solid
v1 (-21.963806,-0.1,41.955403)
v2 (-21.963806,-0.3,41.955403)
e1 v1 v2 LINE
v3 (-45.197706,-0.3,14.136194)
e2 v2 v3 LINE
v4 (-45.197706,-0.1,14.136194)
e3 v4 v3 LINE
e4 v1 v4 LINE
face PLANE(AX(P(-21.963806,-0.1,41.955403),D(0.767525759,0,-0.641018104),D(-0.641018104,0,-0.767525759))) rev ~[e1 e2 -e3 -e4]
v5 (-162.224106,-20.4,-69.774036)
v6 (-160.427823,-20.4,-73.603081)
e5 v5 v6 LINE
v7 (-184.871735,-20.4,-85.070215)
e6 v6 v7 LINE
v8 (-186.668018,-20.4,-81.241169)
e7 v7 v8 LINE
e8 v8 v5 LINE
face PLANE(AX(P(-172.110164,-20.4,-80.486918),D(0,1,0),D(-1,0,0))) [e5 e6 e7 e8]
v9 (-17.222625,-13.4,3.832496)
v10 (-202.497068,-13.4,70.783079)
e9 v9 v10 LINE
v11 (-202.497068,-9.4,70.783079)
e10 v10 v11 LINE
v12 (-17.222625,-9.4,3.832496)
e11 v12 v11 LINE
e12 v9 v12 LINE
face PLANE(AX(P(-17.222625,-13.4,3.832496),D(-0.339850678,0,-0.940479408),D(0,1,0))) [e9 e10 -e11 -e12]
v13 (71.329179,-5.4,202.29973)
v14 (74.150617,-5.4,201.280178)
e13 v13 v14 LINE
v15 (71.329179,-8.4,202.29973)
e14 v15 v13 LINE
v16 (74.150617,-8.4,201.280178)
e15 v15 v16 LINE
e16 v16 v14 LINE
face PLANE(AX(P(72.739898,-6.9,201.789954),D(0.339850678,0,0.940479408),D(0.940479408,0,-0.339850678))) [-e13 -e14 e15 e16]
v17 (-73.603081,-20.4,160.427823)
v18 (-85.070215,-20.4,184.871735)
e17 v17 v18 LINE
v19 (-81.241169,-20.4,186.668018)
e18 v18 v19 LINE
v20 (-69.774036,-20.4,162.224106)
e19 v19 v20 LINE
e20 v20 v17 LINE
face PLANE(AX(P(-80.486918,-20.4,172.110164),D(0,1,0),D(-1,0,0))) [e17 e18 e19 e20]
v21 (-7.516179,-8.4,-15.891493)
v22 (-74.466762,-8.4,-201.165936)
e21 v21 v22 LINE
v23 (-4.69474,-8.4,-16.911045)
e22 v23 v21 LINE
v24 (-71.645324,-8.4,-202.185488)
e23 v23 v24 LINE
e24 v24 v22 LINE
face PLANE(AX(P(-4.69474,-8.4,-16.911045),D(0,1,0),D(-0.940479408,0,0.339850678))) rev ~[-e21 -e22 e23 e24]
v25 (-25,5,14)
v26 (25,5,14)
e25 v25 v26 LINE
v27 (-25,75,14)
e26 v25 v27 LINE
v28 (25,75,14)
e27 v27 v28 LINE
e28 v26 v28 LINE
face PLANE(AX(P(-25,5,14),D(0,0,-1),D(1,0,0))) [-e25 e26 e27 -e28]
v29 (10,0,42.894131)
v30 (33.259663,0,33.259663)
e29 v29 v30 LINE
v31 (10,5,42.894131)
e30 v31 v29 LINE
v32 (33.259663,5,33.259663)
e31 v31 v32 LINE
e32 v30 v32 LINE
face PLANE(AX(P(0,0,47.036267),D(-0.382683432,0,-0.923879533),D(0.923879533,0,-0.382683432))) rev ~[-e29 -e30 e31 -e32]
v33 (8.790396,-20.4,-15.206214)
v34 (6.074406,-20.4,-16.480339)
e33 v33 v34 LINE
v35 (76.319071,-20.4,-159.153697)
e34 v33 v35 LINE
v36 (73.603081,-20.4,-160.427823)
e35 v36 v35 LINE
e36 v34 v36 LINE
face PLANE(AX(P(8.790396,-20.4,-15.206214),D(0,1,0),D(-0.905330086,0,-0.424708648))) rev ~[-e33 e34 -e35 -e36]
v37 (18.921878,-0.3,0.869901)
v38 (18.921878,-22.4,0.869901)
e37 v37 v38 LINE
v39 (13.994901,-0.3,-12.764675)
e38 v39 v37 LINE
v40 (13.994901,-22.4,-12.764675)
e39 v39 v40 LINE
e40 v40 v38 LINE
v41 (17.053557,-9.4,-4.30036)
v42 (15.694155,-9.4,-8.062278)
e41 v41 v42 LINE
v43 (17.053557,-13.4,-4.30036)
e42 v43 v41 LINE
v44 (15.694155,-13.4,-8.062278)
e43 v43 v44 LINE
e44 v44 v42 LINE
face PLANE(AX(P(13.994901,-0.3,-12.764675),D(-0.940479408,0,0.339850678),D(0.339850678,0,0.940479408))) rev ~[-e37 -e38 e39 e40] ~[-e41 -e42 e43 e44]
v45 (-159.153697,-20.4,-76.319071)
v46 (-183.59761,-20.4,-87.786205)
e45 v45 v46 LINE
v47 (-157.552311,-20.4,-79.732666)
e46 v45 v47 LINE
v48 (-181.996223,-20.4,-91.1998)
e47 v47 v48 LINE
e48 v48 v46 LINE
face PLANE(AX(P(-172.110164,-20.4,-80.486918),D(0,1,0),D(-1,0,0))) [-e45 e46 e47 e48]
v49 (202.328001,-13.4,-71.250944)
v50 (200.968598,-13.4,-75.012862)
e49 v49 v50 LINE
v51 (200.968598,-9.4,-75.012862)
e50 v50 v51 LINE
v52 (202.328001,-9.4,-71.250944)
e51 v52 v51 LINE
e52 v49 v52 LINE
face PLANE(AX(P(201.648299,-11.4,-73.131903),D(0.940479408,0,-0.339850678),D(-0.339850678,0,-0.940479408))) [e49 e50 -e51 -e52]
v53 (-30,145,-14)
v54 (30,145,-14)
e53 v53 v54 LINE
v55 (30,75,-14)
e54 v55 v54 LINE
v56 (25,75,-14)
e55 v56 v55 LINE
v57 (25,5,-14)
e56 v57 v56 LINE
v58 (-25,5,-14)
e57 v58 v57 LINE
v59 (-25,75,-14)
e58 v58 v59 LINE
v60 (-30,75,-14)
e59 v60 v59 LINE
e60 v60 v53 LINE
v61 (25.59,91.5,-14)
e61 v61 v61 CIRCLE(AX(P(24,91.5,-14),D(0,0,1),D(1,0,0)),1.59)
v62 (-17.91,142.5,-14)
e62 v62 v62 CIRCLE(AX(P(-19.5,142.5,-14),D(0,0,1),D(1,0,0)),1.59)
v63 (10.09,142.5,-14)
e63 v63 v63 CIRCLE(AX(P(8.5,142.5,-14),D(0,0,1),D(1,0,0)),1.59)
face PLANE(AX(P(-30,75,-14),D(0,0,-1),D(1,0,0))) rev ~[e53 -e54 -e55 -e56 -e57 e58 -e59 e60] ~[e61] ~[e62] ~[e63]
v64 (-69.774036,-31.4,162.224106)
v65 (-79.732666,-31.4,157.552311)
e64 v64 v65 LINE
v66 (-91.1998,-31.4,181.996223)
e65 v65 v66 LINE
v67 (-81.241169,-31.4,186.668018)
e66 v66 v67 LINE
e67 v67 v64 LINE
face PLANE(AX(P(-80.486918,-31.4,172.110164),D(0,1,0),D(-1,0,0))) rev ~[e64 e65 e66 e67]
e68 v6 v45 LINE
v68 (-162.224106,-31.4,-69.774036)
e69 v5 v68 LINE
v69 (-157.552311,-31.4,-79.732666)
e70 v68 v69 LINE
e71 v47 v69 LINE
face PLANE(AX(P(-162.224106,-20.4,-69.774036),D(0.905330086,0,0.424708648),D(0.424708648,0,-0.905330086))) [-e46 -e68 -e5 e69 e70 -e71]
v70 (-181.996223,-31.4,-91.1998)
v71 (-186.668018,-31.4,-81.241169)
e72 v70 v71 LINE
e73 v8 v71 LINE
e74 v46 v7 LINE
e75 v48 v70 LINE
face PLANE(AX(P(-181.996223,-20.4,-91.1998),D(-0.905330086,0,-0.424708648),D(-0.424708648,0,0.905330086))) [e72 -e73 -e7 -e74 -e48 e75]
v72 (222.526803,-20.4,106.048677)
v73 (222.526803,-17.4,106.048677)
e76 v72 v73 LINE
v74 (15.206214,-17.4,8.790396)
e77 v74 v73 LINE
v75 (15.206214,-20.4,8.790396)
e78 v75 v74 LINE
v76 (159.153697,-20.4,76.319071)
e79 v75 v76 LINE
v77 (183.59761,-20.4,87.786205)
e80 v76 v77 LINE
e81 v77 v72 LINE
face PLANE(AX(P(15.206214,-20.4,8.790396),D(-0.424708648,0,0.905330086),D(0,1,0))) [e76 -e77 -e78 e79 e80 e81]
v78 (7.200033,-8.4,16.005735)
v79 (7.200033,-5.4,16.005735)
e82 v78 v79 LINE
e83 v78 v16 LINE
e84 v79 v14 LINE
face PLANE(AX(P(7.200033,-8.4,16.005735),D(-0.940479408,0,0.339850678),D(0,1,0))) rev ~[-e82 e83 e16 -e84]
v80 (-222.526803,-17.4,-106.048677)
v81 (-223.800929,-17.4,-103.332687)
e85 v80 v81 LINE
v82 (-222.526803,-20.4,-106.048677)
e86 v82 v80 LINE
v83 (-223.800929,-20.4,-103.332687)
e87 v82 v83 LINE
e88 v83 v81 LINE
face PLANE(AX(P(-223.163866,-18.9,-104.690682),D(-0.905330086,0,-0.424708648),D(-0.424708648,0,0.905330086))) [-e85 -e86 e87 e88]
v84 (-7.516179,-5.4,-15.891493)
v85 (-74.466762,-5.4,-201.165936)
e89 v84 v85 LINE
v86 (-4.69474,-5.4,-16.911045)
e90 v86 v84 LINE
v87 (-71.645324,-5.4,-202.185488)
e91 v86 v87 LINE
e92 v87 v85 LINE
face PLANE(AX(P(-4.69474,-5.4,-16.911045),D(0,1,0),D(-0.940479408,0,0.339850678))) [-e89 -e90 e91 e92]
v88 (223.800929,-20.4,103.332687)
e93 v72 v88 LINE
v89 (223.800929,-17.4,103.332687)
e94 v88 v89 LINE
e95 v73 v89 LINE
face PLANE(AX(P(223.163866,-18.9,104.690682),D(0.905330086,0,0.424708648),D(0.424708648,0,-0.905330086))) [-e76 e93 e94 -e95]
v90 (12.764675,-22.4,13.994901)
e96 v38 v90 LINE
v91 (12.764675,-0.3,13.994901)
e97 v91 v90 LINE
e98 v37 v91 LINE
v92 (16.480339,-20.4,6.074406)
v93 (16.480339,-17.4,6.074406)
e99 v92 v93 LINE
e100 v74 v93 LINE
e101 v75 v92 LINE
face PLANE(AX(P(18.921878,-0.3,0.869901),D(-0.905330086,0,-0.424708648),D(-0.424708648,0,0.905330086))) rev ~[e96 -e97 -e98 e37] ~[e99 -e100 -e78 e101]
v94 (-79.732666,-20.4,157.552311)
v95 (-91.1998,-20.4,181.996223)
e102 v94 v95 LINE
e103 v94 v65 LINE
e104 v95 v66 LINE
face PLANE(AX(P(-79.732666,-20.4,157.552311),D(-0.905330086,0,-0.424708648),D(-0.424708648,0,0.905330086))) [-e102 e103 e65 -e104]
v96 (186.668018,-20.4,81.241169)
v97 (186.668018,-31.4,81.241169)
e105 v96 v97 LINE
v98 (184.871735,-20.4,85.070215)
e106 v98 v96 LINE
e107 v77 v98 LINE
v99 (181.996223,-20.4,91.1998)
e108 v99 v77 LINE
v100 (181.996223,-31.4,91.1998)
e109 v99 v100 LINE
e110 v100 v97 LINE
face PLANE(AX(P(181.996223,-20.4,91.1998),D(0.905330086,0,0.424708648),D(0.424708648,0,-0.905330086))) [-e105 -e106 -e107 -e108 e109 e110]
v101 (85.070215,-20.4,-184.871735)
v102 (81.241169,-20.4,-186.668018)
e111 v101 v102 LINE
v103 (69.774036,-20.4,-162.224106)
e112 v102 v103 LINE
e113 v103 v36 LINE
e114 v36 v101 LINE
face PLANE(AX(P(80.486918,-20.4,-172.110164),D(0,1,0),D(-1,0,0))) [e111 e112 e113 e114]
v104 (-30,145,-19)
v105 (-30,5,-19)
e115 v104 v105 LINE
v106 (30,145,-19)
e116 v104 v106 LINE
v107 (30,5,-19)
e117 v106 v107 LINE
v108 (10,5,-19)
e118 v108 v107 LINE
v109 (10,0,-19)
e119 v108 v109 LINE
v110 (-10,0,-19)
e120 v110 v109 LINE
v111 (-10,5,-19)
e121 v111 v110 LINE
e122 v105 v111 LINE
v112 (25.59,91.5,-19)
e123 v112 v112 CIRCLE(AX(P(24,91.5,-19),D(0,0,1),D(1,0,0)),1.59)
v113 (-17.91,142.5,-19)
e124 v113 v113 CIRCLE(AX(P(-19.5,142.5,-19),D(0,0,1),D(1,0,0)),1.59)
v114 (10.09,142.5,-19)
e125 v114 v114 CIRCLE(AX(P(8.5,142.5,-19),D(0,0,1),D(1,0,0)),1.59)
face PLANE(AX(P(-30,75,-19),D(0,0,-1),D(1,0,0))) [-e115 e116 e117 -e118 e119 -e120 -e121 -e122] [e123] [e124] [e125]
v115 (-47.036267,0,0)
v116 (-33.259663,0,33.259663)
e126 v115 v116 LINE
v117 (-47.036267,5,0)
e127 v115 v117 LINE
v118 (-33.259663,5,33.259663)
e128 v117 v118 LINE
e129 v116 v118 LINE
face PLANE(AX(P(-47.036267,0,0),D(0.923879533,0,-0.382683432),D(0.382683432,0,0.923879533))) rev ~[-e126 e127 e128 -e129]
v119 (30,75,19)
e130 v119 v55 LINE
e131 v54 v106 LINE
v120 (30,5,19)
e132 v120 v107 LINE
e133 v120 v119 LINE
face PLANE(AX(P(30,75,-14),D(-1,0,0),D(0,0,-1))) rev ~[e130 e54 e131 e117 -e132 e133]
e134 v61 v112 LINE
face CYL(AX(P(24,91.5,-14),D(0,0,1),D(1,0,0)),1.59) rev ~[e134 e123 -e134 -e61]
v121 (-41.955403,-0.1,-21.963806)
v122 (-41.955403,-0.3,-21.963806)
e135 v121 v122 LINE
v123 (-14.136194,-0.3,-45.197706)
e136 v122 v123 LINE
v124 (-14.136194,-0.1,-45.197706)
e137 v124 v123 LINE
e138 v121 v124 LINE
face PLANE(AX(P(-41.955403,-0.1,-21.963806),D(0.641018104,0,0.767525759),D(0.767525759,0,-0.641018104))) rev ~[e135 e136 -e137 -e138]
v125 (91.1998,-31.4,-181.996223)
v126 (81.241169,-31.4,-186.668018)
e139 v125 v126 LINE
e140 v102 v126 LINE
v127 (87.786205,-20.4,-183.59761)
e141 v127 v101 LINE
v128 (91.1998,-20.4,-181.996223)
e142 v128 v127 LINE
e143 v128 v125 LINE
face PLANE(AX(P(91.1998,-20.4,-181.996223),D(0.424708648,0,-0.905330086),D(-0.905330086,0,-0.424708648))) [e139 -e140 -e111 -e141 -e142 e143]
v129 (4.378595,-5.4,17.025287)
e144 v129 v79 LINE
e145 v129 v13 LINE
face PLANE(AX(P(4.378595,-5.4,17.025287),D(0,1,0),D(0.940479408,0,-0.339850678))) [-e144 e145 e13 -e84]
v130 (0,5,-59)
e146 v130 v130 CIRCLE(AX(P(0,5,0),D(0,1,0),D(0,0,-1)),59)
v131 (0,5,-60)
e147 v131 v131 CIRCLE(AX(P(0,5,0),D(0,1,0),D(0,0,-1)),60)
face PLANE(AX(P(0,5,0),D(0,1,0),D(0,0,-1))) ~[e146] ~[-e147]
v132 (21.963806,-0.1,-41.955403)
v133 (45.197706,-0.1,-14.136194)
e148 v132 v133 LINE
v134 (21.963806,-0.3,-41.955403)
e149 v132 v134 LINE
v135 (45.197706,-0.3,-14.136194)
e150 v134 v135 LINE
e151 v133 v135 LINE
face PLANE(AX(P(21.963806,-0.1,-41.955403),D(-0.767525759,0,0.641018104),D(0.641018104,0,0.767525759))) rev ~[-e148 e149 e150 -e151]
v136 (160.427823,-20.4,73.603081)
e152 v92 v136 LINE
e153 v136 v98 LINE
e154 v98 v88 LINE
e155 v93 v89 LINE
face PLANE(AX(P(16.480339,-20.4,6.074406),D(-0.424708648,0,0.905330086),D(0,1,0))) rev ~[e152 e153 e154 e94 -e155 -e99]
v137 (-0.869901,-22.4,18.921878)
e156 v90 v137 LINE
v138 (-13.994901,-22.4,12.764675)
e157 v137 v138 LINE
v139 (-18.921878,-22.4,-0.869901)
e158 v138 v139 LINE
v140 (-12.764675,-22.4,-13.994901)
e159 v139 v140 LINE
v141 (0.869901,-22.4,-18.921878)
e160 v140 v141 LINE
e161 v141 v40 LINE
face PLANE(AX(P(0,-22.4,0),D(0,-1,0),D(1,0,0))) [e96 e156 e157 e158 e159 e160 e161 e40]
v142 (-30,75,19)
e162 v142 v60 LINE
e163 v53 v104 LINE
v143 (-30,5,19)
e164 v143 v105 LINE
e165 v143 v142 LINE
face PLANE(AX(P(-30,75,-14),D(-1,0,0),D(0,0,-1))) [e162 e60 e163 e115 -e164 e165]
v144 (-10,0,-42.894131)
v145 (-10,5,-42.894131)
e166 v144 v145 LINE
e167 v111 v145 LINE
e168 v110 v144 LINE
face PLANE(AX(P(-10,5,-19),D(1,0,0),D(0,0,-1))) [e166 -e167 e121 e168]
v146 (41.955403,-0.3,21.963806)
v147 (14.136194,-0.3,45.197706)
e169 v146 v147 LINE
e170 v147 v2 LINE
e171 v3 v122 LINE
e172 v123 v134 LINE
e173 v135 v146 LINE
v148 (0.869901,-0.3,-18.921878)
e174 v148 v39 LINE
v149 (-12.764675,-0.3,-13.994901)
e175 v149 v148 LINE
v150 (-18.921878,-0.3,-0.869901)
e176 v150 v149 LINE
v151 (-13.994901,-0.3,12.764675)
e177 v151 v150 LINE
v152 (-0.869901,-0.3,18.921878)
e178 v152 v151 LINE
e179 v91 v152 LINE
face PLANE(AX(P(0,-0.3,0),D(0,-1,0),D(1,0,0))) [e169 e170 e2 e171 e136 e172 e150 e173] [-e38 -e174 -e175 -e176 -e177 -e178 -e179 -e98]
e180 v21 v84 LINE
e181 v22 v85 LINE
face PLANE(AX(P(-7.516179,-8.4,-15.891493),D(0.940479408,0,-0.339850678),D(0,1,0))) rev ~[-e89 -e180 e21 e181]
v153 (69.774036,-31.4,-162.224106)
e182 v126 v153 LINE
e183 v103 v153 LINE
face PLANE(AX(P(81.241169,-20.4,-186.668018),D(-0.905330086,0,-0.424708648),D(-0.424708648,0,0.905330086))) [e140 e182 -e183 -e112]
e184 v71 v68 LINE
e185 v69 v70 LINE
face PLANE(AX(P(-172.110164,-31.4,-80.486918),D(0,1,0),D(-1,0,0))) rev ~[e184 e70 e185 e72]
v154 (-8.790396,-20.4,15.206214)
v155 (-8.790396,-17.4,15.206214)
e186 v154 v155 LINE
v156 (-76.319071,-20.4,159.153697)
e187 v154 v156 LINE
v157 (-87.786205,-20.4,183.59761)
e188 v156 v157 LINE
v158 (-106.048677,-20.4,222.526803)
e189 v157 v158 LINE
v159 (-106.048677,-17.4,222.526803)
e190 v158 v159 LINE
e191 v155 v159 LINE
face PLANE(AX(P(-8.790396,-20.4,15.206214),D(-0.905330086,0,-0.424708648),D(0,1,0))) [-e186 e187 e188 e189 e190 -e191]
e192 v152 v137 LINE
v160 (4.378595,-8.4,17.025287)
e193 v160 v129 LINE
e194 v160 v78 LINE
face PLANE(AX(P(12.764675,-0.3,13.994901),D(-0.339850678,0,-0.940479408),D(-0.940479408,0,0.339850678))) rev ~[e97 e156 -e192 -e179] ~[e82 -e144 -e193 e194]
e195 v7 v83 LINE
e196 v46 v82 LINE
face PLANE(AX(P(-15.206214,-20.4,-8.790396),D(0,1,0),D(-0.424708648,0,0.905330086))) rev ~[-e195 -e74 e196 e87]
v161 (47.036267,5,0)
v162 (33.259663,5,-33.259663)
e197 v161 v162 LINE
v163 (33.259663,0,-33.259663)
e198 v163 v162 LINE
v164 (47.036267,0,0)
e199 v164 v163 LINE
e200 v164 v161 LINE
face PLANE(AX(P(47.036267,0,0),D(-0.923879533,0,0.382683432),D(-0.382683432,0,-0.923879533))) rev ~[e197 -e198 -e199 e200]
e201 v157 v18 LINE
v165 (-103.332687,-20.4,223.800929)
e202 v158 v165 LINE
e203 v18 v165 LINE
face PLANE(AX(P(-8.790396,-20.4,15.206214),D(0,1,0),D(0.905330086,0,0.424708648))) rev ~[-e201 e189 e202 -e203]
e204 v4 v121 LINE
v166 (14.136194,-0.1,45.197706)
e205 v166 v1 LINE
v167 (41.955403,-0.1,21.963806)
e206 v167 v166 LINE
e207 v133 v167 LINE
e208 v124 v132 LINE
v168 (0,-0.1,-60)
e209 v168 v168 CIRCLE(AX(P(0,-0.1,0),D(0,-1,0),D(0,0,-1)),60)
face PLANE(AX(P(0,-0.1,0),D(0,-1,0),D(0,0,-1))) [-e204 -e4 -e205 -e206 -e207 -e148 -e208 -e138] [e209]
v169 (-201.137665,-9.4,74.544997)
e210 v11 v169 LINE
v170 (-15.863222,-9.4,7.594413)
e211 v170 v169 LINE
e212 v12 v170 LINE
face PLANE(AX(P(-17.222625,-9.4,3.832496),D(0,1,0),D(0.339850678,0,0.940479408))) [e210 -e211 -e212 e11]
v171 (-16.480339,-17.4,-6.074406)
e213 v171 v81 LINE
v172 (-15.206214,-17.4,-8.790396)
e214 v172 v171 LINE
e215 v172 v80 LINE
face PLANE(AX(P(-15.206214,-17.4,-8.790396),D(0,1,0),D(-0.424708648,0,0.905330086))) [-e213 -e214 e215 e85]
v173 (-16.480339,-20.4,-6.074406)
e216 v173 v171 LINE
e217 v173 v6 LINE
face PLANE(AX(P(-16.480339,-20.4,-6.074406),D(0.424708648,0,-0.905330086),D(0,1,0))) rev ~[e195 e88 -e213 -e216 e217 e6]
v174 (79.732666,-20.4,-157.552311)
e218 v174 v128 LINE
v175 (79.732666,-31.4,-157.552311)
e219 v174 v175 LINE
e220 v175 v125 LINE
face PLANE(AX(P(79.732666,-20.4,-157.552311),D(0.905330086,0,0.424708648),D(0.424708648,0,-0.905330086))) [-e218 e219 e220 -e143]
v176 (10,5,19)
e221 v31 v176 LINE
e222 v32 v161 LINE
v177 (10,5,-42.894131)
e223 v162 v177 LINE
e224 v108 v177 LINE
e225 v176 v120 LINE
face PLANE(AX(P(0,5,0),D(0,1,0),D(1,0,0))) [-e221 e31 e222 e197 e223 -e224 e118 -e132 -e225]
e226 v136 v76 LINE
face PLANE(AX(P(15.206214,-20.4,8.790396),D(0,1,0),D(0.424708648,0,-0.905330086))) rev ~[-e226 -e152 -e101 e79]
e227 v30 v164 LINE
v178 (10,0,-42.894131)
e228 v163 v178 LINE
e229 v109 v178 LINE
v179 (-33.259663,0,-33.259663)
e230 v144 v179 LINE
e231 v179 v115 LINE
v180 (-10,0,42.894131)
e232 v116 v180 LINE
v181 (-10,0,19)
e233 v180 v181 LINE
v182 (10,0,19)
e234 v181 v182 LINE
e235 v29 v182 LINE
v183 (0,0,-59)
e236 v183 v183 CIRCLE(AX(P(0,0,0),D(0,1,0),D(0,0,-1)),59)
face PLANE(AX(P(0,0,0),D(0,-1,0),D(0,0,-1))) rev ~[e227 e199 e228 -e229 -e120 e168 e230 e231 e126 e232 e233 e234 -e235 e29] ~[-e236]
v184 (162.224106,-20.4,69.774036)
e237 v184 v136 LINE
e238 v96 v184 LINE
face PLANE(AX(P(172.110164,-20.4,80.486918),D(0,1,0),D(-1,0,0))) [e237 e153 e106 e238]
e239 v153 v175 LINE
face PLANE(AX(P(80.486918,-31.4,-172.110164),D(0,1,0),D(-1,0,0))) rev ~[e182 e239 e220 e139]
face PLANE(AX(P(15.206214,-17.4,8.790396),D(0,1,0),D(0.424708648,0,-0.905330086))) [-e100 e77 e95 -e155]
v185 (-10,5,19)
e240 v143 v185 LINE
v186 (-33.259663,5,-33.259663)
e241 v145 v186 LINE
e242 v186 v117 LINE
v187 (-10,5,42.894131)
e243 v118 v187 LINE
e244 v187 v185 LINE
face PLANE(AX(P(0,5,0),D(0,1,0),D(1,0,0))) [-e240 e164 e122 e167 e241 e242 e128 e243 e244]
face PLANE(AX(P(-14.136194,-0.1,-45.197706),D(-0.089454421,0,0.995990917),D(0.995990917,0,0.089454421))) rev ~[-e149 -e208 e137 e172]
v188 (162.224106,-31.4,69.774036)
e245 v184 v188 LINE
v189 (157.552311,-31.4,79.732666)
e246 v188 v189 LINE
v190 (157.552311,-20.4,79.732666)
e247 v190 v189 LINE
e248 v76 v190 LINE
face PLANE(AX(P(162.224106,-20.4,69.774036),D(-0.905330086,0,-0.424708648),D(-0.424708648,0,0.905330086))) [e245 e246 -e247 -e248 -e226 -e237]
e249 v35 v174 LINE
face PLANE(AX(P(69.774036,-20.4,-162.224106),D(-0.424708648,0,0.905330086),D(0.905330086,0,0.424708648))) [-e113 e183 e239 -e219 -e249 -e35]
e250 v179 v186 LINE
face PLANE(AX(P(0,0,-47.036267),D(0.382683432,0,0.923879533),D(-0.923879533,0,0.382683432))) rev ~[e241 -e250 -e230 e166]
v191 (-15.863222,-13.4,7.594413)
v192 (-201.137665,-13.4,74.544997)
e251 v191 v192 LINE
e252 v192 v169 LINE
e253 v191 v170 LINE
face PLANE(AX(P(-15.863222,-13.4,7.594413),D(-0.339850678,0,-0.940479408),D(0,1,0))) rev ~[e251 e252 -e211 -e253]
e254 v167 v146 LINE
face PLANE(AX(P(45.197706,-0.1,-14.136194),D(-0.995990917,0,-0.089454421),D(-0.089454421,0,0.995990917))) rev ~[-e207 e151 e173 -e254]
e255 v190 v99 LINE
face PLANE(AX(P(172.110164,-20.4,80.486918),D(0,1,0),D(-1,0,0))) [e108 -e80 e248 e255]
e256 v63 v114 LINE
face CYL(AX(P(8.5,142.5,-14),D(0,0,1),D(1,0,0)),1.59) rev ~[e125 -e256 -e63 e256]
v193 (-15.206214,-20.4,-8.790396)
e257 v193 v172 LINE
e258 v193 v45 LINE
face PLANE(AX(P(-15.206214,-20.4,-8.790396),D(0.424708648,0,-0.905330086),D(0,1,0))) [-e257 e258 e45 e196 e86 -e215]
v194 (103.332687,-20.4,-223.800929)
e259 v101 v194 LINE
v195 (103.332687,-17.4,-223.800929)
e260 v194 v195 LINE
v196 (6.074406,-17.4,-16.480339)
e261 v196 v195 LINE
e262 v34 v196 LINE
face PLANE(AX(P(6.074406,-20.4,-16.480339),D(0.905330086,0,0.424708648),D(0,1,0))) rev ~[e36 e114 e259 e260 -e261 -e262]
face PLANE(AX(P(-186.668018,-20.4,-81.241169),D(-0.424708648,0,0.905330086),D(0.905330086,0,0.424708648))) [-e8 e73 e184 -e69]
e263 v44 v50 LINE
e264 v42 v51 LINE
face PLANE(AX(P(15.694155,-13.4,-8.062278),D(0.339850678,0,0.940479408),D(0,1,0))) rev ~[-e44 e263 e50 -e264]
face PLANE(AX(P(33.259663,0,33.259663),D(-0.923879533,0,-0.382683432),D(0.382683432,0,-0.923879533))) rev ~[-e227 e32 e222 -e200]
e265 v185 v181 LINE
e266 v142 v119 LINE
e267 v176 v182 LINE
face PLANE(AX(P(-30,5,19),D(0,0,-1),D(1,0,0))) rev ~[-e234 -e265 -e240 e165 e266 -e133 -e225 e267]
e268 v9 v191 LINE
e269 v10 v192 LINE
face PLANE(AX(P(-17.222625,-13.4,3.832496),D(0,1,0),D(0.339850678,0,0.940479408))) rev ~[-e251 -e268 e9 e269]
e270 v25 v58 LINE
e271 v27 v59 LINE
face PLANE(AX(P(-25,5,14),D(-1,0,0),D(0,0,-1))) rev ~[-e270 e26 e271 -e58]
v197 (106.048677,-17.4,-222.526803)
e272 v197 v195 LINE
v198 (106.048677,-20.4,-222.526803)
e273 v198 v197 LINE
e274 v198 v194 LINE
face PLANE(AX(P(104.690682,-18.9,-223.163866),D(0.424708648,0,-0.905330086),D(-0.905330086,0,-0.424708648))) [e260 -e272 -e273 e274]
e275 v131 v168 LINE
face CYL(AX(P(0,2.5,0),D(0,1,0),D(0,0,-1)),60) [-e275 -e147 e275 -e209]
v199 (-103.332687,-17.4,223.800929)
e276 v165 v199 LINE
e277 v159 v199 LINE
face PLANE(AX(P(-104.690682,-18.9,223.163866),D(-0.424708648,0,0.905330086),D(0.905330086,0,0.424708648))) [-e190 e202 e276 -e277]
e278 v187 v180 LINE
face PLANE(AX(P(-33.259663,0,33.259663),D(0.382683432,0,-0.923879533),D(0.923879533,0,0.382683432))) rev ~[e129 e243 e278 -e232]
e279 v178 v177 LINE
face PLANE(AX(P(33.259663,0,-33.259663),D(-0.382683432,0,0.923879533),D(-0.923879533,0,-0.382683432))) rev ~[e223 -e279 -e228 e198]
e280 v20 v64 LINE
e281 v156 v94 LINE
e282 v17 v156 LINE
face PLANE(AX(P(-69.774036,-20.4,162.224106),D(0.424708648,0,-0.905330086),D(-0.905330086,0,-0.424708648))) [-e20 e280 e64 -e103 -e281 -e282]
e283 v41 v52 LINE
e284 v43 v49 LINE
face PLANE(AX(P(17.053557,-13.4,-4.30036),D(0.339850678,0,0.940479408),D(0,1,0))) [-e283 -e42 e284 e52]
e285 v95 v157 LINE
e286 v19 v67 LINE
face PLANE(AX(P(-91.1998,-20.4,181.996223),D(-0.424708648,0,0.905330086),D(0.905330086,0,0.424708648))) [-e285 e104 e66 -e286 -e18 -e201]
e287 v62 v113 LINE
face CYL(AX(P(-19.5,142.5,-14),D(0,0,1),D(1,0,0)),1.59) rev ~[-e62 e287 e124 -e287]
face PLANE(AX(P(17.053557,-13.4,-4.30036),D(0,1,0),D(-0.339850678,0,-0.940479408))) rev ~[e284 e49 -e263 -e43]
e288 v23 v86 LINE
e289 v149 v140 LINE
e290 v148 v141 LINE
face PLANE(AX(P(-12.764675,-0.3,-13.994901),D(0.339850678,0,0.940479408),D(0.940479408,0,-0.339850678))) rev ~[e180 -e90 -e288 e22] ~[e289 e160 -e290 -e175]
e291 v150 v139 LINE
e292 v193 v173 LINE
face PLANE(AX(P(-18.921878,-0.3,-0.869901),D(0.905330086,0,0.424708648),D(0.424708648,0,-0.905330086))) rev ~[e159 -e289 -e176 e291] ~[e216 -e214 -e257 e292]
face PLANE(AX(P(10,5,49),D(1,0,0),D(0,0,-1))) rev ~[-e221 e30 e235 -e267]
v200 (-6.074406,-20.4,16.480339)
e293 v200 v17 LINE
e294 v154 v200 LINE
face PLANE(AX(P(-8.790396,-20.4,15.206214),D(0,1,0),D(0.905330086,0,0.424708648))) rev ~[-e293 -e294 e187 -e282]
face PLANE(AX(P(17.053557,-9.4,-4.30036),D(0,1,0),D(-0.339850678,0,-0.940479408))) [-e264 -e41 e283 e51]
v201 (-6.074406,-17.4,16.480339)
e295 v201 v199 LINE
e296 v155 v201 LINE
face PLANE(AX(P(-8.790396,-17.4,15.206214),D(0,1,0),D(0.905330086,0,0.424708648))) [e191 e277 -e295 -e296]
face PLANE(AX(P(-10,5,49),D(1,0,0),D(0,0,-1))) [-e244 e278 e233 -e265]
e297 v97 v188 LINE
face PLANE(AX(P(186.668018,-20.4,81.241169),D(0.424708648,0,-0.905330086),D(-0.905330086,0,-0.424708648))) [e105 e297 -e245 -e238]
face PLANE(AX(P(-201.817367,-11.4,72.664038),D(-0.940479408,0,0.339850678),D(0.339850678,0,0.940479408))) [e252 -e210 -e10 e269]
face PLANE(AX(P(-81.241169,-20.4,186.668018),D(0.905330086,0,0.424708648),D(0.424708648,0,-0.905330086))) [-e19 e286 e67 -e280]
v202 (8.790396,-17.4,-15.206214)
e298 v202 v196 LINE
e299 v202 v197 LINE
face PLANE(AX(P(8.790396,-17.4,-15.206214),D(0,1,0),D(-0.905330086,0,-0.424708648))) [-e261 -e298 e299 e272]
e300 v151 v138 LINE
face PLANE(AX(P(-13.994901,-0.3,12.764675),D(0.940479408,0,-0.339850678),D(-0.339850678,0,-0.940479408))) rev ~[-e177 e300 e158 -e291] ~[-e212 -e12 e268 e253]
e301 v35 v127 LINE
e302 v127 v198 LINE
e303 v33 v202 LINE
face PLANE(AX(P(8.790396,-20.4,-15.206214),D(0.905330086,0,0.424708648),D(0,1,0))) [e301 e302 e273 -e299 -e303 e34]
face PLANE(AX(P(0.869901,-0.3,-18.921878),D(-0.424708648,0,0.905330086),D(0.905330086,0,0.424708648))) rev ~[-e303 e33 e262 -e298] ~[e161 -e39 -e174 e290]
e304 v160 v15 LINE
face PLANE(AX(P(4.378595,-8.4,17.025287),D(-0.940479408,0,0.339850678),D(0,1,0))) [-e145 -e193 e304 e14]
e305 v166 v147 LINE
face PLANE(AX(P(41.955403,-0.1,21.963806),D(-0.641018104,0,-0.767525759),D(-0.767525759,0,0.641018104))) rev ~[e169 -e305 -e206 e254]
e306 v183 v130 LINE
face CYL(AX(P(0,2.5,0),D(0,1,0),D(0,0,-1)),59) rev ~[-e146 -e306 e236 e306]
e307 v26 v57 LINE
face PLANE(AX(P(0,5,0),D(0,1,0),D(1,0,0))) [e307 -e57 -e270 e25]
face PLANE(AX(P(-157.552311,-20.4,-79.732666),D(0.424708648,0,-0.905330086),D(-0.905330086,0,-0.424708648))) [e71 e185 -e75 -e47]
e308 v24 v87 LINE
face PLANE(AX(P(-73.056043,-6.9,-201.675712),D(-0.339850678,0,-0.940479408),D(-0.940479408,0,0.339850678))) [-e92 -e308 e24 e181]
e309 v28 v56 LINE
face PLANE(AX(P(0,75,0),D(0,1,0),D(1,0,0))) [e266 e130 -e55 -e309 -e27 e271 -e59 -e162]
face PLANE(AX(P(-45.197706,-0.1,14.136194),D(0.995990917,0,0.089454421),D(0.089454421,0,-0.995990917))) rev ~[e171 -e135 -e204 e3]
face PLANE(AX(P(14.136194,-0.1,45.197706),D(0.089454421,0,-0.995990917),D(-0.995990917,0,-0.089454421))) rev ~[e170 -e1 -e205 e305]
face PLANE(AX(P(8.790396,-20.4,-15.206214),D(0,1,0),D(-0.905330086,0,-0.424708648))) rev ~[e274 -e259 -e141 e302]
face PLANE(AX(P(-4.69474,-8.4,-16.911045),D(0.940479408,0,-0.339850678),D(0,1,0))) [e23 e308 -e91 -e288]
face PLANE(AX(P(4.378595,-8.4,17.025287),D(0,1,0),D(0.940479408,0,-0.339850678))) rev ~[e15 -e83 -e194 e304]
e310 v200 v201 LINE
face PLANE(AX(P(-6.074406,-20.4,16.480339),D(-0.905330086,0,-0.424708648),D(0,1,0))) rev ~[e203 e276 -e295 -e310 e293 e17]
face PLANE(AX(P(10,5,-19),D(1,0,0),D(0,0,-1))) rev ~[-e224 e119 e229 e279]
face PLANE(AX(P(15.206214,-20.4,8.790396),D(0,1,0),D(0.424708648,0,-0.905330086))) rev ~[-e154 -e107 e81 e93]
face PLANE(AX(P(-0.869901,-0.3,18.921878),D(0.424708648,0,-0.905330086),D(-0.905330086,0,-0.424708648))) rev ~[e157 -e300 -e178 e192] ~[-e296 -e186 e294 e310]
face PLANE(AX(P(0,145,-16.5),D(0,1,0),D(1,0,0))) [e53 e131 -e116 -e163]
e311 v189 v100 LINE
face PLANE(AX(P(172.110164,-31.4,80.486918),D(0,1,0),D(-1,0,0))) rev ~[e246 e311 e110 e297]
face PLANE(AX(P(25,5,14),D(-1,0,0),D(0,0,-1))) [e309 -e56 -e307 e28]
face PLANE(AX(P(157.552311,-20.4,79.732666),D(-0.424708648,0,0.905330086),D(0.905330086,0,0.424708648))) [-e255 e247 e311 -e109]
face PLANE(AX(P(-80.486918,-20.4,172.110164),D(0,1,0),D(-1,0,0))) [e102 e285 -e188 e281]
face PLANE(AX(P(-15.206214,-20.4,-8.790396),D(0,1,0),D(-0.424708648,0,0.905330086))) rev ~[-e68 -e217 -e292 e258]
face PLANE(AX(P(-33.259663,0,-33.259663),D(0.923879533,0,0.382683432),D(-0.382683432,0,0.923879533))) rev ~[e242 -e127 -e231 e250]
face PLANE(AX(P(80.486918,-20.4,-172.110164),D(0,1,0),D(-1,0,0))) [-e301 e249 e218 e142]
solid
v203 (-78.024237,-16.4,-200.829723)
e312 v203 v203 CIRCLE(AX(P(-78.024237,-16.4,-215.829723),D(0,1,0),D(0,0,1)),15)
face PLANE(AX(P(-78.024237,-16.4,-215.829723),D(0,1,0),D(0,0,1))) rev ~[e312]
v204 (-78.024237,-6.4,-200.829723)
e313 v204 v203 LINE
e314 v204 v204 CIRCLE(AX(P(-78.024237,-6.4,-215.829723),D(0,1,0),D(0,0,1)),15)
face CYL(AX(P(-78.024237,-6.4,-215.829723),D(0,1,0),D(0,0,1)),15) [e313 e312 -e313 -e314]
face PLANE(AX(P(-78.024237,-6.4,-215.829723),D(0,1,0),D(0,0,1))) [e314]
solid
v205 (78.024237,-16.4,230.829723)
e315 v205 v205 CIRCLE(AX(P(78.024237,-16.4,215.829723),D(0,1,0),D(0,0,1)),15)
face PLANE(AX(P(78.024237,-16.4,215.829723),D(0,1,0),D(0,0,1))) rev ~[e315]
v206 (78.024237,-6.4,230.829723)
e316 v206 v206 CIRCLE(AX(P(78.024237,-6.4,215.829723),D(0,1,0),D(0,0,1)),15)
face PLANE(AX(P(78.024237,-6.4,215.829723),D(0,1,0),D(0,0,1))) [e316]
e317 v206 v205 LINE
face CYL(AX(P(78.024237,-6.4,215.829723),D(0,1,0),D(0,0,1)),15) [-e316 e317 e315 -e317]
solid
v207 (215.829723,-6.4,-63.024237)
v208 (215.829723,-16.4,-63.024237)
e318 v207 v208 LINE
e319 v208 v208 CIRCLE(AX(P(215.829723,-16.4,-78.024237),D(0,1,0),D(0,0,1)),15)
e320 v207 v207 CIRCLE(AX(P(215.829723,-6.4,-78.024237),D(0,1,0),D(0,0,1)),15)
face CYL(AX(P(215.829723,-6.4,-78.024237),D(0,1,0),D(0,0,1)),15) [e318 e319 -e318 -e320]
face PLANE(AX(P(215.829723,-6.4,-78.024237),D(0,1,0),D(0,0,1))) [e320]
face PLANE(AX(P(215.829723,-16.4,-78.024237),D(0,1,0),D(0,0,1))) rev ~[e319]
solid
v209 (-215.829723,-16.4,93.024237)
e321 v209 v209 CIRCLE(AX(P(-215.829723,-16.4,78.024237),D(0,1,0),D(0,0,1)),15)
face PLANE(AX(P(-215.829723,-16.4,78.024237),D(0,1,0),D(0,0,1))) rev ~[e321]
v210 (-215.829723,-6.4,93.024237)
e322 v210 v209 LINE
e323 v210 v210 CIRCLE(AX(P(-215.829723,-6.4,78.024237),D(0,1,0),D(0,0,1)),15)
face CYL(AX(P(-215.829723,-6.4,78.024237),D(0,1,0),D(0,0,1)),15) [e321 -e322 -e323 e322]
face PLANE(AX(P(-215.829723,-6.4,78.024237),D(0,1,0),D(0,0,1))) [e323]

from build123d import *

# Parameters (mm, degrees)
CROQUIS1_W                 = 56
CROQUIS1_H                 = 34
CROQUIS1_W_2               = 50
CROQUIS1_H_2               = 28
SALIENTE_EXTRUIR1_DEPTH    = 5
CROQUIS2_W                 = 60
CROQUIS2_H                 = 38
CROQUIS2_W_2               = 50
CROQUIS2_H_2               = 28
SALIENTE_EXTRUIR2_DEPTH    = 70
CROQUIS4_W                 = 60
CROQUIS4_H                 = 5
SALIENTE_EXTRUIR4_DEPTH    = 70
CROQUIS5_R                 = 1.59
CORTAR_EXTRUIR1_DEPTH      = 165.203642607
CROQUIS6_W                 = 20
CROQUIS6_H                 = 30
CORTAR_EXTRUIR2_DEPTH      = 155.99942186
CROQUIS7_R                 = 60
SALIENTE_EXTRUIR5_DEPTH    = 0.1
CROQUIS9_W                 = 1
CROQUIS9_H                 = 5
SALIENTE_EXTRUIR6_DEPTH    = 0.2
SALIENTE_EXTRUIR7_DEPTH    = 22.1
CROQUIS12_W                = 3
CROQUIS12_H                = 3
SALIENTE_EXTRUIR8_DEPTH    = 197
CROQUIS13_W                = 3
CROQUIS13_H                = 3
SALIENTE_EXTRUIR9_DEPTH    = 197
CROQUIS14_W                = 4
CROQUIS14_H                = 4
SALIENTE_EXTRUIR10_DEPTH   = 197
CROQUIS15_W                = 4
CROQUIS15_H                = 4
SALIENTE_EXTRUIR12_DEPTH   = 197
CROQUIS17_R                = 15
SALIENTE_EXTRUIR13_DEPTH   = 10
SALIENTE_EXTRUIR13_2_DEPTH = 10
SALIENTE_EXTRUIR13_3_DEPTH = 10
SALIENTE_EXTRUIR13_4_DEPTH = 10
CROQUIS18_W                = 3
CROQUIS18_H                = 3
SALIENTE_EXTRUIR14_DEPTH   = 229
CROQUIS19_W                = 3
CROQUIS19_H                = 3
SALIENTE_EXTRUIR15_DEPTH   = 229
CROQUIS20_W                = 3
CROQUIS20_H                = 3
SALIENTE_EXTRUIR16_DEPTH   = 229
CROQUIS21_W                = 3
CROQUIS21_H                = 3
SALIENTE_EXTRUIR17_DEPTH   = 229
SALIENTE_EXTRUIR18_DEPTH   = 11


with BuildPart() as part:
    # Croquis1 → Saliente-Extruir1 (new body)
    # profile 1 of 3: a face of its own
    with BuildSketch(Plane(origin=(0, 0, 0), x_dir=(1, 0, 0), z_dir=(0, 1, 0))):
        Polygon((0, -47.036266736), (33.25966317, -33.25966317), (47.036266736, 0), (33.25966317, 33.25966317), (0, 47.036266736), (-33.25966317, 33.25966317), (-47.036266736, 0), (-33.25966317, -33.25966317), align=None)
        Rectangle(CROQUIS1_W, CROQUIS1_H, mode=Mode.SUBTRACT)
    # profile 2 of 3: a face of its own
    with BuildSketch(Plane(origin=(0, 0, 0), x_dir=(1, 0, 0), z_dir=(0, 1, 0))):
        Rectangle(CROQUIS1_W, CROQUIS1_H)
        Rectangle(CROQUIS1_W_2, CROQUIS1_H_2, mode=Mode.SUBTRACT)
    # profile 3 of 3: a face of its own
    with BuildSketch(Plane(origin=(0, 0, 0), x_dir=(1, 0, 0), z_dir=(0, 1, 0))):
        Rectangle(CROQUIS1_W_2, CROQUIS1_H_2)
    extrude(amount=SALIENTE_EXTRUIR1_DEPTH)

    # Croquis2 → Saliente-Extruir2 (add)
    with BuildSketch(Plane(origin=(0, 5, 0), x_dir=(1, 0, 0), z_dir=(0, 1, 0))):
        Rectangle(CROQUIS2_W, CROQUIS2_H)
        Rectangle(CROQUIS2_W_2, CROQUIS2_H_2, mode=Mode.SUBTRACT)
    extrude(amount=SALIENTE_EXTRUIR2_DEPTH)

    # Croquis4 → Saliente-Extruir4 (add)
    with BuildSketch(Plane(origin=(0, 75, 0), x_dir=(1, 0, 0), z_dir=(0, 1, 0))):
        with Locations((0, 16.5)):
            Rectangle(CROQUIS4_W, CROQUIS4_H)
    extrude(amount=SALIENTE_EXTRUIR4_DEPTH)

    # Croquis5 → Cortar-Extruir1 (cut, through all)
    with BuildSketch(Plane.XY.offset(-14)):
        with Locations((-19.5, 142.5)):
            Circle(CROQUIS5_R)
        with Locations((24, 91.5)):
            Circle(CROQUIS5_R)
        with Locations((8.5, 142.5)):
            Circle(CROQUIS5_R)
    extrude(amount=-CORTAR_EXTRUIR1_DEPTH, mode=Mode.SUBTRACT)

    # Croquis6 → Cortar-Extruir2 (cut, through all)
    with BuildSketch(Plane(origin=(0, 5, 0), x_dir=(1, 0, 0), z_dir=(0, 1, 0))):
        with Locations((0, 34)):
            Rectangle(CROQUIS6_W, CROQUIS6_H)
        with Locations((0, -34)):
            Rectangle(CROQUIS6_W, CROQUIS6_H)
    extrude(amount=-CORTAR_EXTRUIR2_DEPTH, mode=Mode.SUBTRACT)

    # Croquis7 → Saliente-Extruir5 (add)
    with BuildSketch(Plane.XZ):
        with Locations(Location((0, 0, 0), (0, 0, 270))):
            Circle(CROQUIS7_R)
    extrude(amount=SALIENTE_EXTRUIR5_DEPTH)

    # Croquis9 → Revolución1 (revolve)
    with BuildSketch(Plane.XY, mode=Mode.PRIVATE) as revoluci_n1_sk:
        with Locations((59.5, 2.5)):
            Rectangle(CROQUIS9_W, CROQUIS9_H)
    revolve(revoluci_n1_sk.sketch.rotate(Axis((0, 0, 0), (0, 1, 0)), 90), axis=Axis((0, 0, 0), (0, 1, 0)))

    # Croquis10 → Saliente-Extruir6 (add)
    with BuildSketch(Plane.XZ.offset(0.1)):
        Polygon((-21.963806256, 41.955403169), (-45.197706432, 14.136193744), (-41.955403169, -21.963806256), (-14.136193744, -45.197706432), (21.963806256, -41.955403169), (45.197706432, -14.136193744), (41.955403169, 21.963806256), (14.136193744, 45.197706432), align=None)
    extrude(amount=SALIENTE_EXTRUIR6_DEPTH)

    # Croquis11 → Saliente-Extruir7 (add)
    with BuildSketch(Plane.XZ.offset(0.3)):
        Polygon((-18.921877938, -0.869901338), (-12.764675068, -13.994901338), (0.869901338, -18.921877938), (13.994901338, -12.764675068), (18.921877938, 0.869901338), (12.764675068, 13.994901338), (-0.869901338, 18.921877938), (-13.994901338, 12.764675068), align=None)
    extrude(amount=SALIENTE_EXTRUIR7_DEPTH)

    # Croquis12 → Saliente-Extruir8 (add)
    with BuildSketch(Plane(origin=(5.947386865, 0, 16.458389638), x_dir=(0.9404794078882311, 0, -0.33985067800168073), z_dir=(0.33985067800168073, 0, 0.9404794078882311))):
        with Locations((-0.168076696, -6.9)):
            Rectangle(CROQUIS12_W, CROQUIS12_H)
    extrude(amount=SALIENTE_EXTRUIR8_DEPTH)

    # Croquis13 → Saliente-Extruir9 (add)
    with BuildSketch(Plane(origin=(-5.947386865, 0, -16.458389638), x_dir=(-0.9404794078882313, 0, 0.33985067800168045), z_dir=(-0.33985067800168045, 0, -0.9404794078882313))):
        with Locations((0.168076696, -6.9)):
            Rectangle(CROQUIS13_W, CROQUIS13_H)
    extrude(amount=SALIENTE_EXTRUIR9_DEPTH)

    # Croquis14 → Saliente-Extruir10 (add)
    with BuildSketch(Plane(origin=(-16.458389638, 0, 5.947386865), x_dir=(0.33985067800168045, 0, 0.9404794078882313), z_dir=(-0.9404794078882313, 0, 0.33985067800168045))):
        with Locations((-0.248737342, -11.4)):
            Rectangle(CROQUIS14_W, CROQUIS14_H)
    extrude(amount=SALIENTE_EXTRUIR10_DEPTH)

    # Croquis15 → Saliente-Extruir12 (add)
    with BuildSketch(Plane(origin=(16.458389638, 0, -5.947386865), x_dir=(-0.3398506780016804, 0, -0.9404794078882313), z_dir=(0.9404794078882313, 0, -0.3398506780016804))):
        with Locations((0.248737342, -11.4)):
            Rectangle(CROQUIS15_W, CROQUIS15_H)
    extrude(amount=SALIENTE_EXTRUIR12_DEPTH)

    # Croquis18 → Saliente-Extruir14 (add)
    with BuildSketch(Plane(origin=(7.432401338, 0, -15.843276503), x_dir=(-0.9053300858899115, 0, -0.4247086478782432), z_dir=(0.42470864787824314, 0, -0.9053300858899114))):
        with Locations((0, -18.9)):
            Rectangle(CROQUIS18_W, CROQUIS18_H)
    extrude(amount=SALIENTE_EXTRUIR14_DEPTH)

    # Croquis19 → Saliente-Extruir15 (add)
    with BuildSketch(Plane(origin=(-7.432401338, 0, 15.843276503), x_dir=(0.9053300858899115, 0, 0.42470864787824314), z_dir=(-0.42470864787824314, 0, 0.9053300858899115))):
        with Locations((0, -18.9)):
            Rectangle(CROQUIS19_W, CROQUIS19_H)
    extrude(amount=SALIENTE_EXTRUIR15_DEPTH)

    # Croquis20 → Saliente-Extruir16 (add)
    with BuildSketch(Plane(origin=(15.843276503, 0, 7.432401338), x_dir=(0.42470864787824314, 0, -0.9053300858899115), z_dir=(0.9053300858899115, 0, 0.42470864787824314))):
        with Locations((0, -18.9)):
            Rectangle(CROQUIS20_W, CROQUIS20_H)
    extrude(amount=SALIENTE_EXTRUIR16_DEPTH)

    # Croquis21 → Saliente-Extruir17 (add)
    with BuildSketch(Plane(origin=(-15.843276503, 0, -7.432401338), x_dir=(-0.4247086478782432, 0, 0.9053300858899115), z_dir=(-0.9053300858899114, 0, -0.42470864787824314))):
        with Locations((0, -18.9)):
            Rectangle(CROQUIS21_W, CROQUIS21_H)
    extrude(amount=SALIENTE_EXTRUIR17_DEPTH)

    # Croquis22 → Saliente-Extruir18 (add)
    with BuildSketch(Plane.XZ.offset(20.4)):
        Polygon((91.199799959, -181.99622308), (81.241169015, -186.668018206), (69.774035522, -162.224105887), (79.732666467, -157.552310761), align=None)
        Polygon((-157.552310761, -79.732666467), (-181.99622308, -91.199799959), (-186.668018206, -81.241169015), (-162.224105887, -69.774035522), align=None)
        Polygon((-79.732666467, 157.552310761), (-91.199799959, 181.99622308), (-81.241169015, 186.668018206), (-69.774035522, 162.224105887), align=None)
        Polygon((157.552310761, 79.732666467), (181.99622308, 91.199799959), (186.668018206, 81.241169015), (162.224105887, 69.774035522), align=None)
    extrude(amount=SALIENTE_EXTRUIR18_DEPTH)


with BuildPart() as body_2:
    # Croquis17 → Saliente-Extruir13 (new body)
    with BuildSketch(Plane(origin=(0, -6.4, 0), x_dir=(1, 0, 0), z_dir=(0, 1, 0))):
        with Locations(Location((-215.829723194, -78.024236649, 0), (0, 0, 270))):
            Circle(CROQUIS17_R)
    extrude(amount=-SALIENTE_EXTRUIR13_DEPTH)


with BuildPart() as body_3:
    # Croquis17 → Saliente-Extruir13 2 (new body)
    with BuildSketch(Plane(origin=(0, -6.4, 0), x_dir=(1, 0, 0), z_dir=(0, 1, 0))):
        with Locations(Location((-78.024236649, 215.829723194, 0), (0, 0, 270))):
            Circle(CROQUIS17_R)
    extrude(amount=-SALIENTE_EXTRUIR13_2_DEPTH)


with BuildPart() as body_4:
    # Croquis17 → Saliente-Extruir13 3 (new body)
    with BuildSketch(Plane(origin=(0, -6.4, 0), x_dir=(1, 0, 0), z_dir=(0, 1, 0))):
        with Locations(Location((215.829723194, 78.024236649, 0), (0, 0, 270))):
            Circle(CROQUIS17_R)
    extrude(amount=-SALIENTE_EXTRUIR13_3_DEPTH)


with BuildPart() as body_5:
    # Croquis17 → Saliente-Extruir13 4 (new body)
    with BuildSketch(Plane(origin=(0, -6.4, 0), x_dir=(1, 0, 0), z_dir=(0, 1, 0))):
        with Locations(Location((78.024236649, -215.829723194, 0), (0, 0, 270))):
            Circle(CROQUIS17_R)
    extrude(amount=-SALIENTE_EXTRUIR13_4_DEPTH)


solid = Compound([part.part, body_2.part, body_3.part, body_4.part, body_5.part])
